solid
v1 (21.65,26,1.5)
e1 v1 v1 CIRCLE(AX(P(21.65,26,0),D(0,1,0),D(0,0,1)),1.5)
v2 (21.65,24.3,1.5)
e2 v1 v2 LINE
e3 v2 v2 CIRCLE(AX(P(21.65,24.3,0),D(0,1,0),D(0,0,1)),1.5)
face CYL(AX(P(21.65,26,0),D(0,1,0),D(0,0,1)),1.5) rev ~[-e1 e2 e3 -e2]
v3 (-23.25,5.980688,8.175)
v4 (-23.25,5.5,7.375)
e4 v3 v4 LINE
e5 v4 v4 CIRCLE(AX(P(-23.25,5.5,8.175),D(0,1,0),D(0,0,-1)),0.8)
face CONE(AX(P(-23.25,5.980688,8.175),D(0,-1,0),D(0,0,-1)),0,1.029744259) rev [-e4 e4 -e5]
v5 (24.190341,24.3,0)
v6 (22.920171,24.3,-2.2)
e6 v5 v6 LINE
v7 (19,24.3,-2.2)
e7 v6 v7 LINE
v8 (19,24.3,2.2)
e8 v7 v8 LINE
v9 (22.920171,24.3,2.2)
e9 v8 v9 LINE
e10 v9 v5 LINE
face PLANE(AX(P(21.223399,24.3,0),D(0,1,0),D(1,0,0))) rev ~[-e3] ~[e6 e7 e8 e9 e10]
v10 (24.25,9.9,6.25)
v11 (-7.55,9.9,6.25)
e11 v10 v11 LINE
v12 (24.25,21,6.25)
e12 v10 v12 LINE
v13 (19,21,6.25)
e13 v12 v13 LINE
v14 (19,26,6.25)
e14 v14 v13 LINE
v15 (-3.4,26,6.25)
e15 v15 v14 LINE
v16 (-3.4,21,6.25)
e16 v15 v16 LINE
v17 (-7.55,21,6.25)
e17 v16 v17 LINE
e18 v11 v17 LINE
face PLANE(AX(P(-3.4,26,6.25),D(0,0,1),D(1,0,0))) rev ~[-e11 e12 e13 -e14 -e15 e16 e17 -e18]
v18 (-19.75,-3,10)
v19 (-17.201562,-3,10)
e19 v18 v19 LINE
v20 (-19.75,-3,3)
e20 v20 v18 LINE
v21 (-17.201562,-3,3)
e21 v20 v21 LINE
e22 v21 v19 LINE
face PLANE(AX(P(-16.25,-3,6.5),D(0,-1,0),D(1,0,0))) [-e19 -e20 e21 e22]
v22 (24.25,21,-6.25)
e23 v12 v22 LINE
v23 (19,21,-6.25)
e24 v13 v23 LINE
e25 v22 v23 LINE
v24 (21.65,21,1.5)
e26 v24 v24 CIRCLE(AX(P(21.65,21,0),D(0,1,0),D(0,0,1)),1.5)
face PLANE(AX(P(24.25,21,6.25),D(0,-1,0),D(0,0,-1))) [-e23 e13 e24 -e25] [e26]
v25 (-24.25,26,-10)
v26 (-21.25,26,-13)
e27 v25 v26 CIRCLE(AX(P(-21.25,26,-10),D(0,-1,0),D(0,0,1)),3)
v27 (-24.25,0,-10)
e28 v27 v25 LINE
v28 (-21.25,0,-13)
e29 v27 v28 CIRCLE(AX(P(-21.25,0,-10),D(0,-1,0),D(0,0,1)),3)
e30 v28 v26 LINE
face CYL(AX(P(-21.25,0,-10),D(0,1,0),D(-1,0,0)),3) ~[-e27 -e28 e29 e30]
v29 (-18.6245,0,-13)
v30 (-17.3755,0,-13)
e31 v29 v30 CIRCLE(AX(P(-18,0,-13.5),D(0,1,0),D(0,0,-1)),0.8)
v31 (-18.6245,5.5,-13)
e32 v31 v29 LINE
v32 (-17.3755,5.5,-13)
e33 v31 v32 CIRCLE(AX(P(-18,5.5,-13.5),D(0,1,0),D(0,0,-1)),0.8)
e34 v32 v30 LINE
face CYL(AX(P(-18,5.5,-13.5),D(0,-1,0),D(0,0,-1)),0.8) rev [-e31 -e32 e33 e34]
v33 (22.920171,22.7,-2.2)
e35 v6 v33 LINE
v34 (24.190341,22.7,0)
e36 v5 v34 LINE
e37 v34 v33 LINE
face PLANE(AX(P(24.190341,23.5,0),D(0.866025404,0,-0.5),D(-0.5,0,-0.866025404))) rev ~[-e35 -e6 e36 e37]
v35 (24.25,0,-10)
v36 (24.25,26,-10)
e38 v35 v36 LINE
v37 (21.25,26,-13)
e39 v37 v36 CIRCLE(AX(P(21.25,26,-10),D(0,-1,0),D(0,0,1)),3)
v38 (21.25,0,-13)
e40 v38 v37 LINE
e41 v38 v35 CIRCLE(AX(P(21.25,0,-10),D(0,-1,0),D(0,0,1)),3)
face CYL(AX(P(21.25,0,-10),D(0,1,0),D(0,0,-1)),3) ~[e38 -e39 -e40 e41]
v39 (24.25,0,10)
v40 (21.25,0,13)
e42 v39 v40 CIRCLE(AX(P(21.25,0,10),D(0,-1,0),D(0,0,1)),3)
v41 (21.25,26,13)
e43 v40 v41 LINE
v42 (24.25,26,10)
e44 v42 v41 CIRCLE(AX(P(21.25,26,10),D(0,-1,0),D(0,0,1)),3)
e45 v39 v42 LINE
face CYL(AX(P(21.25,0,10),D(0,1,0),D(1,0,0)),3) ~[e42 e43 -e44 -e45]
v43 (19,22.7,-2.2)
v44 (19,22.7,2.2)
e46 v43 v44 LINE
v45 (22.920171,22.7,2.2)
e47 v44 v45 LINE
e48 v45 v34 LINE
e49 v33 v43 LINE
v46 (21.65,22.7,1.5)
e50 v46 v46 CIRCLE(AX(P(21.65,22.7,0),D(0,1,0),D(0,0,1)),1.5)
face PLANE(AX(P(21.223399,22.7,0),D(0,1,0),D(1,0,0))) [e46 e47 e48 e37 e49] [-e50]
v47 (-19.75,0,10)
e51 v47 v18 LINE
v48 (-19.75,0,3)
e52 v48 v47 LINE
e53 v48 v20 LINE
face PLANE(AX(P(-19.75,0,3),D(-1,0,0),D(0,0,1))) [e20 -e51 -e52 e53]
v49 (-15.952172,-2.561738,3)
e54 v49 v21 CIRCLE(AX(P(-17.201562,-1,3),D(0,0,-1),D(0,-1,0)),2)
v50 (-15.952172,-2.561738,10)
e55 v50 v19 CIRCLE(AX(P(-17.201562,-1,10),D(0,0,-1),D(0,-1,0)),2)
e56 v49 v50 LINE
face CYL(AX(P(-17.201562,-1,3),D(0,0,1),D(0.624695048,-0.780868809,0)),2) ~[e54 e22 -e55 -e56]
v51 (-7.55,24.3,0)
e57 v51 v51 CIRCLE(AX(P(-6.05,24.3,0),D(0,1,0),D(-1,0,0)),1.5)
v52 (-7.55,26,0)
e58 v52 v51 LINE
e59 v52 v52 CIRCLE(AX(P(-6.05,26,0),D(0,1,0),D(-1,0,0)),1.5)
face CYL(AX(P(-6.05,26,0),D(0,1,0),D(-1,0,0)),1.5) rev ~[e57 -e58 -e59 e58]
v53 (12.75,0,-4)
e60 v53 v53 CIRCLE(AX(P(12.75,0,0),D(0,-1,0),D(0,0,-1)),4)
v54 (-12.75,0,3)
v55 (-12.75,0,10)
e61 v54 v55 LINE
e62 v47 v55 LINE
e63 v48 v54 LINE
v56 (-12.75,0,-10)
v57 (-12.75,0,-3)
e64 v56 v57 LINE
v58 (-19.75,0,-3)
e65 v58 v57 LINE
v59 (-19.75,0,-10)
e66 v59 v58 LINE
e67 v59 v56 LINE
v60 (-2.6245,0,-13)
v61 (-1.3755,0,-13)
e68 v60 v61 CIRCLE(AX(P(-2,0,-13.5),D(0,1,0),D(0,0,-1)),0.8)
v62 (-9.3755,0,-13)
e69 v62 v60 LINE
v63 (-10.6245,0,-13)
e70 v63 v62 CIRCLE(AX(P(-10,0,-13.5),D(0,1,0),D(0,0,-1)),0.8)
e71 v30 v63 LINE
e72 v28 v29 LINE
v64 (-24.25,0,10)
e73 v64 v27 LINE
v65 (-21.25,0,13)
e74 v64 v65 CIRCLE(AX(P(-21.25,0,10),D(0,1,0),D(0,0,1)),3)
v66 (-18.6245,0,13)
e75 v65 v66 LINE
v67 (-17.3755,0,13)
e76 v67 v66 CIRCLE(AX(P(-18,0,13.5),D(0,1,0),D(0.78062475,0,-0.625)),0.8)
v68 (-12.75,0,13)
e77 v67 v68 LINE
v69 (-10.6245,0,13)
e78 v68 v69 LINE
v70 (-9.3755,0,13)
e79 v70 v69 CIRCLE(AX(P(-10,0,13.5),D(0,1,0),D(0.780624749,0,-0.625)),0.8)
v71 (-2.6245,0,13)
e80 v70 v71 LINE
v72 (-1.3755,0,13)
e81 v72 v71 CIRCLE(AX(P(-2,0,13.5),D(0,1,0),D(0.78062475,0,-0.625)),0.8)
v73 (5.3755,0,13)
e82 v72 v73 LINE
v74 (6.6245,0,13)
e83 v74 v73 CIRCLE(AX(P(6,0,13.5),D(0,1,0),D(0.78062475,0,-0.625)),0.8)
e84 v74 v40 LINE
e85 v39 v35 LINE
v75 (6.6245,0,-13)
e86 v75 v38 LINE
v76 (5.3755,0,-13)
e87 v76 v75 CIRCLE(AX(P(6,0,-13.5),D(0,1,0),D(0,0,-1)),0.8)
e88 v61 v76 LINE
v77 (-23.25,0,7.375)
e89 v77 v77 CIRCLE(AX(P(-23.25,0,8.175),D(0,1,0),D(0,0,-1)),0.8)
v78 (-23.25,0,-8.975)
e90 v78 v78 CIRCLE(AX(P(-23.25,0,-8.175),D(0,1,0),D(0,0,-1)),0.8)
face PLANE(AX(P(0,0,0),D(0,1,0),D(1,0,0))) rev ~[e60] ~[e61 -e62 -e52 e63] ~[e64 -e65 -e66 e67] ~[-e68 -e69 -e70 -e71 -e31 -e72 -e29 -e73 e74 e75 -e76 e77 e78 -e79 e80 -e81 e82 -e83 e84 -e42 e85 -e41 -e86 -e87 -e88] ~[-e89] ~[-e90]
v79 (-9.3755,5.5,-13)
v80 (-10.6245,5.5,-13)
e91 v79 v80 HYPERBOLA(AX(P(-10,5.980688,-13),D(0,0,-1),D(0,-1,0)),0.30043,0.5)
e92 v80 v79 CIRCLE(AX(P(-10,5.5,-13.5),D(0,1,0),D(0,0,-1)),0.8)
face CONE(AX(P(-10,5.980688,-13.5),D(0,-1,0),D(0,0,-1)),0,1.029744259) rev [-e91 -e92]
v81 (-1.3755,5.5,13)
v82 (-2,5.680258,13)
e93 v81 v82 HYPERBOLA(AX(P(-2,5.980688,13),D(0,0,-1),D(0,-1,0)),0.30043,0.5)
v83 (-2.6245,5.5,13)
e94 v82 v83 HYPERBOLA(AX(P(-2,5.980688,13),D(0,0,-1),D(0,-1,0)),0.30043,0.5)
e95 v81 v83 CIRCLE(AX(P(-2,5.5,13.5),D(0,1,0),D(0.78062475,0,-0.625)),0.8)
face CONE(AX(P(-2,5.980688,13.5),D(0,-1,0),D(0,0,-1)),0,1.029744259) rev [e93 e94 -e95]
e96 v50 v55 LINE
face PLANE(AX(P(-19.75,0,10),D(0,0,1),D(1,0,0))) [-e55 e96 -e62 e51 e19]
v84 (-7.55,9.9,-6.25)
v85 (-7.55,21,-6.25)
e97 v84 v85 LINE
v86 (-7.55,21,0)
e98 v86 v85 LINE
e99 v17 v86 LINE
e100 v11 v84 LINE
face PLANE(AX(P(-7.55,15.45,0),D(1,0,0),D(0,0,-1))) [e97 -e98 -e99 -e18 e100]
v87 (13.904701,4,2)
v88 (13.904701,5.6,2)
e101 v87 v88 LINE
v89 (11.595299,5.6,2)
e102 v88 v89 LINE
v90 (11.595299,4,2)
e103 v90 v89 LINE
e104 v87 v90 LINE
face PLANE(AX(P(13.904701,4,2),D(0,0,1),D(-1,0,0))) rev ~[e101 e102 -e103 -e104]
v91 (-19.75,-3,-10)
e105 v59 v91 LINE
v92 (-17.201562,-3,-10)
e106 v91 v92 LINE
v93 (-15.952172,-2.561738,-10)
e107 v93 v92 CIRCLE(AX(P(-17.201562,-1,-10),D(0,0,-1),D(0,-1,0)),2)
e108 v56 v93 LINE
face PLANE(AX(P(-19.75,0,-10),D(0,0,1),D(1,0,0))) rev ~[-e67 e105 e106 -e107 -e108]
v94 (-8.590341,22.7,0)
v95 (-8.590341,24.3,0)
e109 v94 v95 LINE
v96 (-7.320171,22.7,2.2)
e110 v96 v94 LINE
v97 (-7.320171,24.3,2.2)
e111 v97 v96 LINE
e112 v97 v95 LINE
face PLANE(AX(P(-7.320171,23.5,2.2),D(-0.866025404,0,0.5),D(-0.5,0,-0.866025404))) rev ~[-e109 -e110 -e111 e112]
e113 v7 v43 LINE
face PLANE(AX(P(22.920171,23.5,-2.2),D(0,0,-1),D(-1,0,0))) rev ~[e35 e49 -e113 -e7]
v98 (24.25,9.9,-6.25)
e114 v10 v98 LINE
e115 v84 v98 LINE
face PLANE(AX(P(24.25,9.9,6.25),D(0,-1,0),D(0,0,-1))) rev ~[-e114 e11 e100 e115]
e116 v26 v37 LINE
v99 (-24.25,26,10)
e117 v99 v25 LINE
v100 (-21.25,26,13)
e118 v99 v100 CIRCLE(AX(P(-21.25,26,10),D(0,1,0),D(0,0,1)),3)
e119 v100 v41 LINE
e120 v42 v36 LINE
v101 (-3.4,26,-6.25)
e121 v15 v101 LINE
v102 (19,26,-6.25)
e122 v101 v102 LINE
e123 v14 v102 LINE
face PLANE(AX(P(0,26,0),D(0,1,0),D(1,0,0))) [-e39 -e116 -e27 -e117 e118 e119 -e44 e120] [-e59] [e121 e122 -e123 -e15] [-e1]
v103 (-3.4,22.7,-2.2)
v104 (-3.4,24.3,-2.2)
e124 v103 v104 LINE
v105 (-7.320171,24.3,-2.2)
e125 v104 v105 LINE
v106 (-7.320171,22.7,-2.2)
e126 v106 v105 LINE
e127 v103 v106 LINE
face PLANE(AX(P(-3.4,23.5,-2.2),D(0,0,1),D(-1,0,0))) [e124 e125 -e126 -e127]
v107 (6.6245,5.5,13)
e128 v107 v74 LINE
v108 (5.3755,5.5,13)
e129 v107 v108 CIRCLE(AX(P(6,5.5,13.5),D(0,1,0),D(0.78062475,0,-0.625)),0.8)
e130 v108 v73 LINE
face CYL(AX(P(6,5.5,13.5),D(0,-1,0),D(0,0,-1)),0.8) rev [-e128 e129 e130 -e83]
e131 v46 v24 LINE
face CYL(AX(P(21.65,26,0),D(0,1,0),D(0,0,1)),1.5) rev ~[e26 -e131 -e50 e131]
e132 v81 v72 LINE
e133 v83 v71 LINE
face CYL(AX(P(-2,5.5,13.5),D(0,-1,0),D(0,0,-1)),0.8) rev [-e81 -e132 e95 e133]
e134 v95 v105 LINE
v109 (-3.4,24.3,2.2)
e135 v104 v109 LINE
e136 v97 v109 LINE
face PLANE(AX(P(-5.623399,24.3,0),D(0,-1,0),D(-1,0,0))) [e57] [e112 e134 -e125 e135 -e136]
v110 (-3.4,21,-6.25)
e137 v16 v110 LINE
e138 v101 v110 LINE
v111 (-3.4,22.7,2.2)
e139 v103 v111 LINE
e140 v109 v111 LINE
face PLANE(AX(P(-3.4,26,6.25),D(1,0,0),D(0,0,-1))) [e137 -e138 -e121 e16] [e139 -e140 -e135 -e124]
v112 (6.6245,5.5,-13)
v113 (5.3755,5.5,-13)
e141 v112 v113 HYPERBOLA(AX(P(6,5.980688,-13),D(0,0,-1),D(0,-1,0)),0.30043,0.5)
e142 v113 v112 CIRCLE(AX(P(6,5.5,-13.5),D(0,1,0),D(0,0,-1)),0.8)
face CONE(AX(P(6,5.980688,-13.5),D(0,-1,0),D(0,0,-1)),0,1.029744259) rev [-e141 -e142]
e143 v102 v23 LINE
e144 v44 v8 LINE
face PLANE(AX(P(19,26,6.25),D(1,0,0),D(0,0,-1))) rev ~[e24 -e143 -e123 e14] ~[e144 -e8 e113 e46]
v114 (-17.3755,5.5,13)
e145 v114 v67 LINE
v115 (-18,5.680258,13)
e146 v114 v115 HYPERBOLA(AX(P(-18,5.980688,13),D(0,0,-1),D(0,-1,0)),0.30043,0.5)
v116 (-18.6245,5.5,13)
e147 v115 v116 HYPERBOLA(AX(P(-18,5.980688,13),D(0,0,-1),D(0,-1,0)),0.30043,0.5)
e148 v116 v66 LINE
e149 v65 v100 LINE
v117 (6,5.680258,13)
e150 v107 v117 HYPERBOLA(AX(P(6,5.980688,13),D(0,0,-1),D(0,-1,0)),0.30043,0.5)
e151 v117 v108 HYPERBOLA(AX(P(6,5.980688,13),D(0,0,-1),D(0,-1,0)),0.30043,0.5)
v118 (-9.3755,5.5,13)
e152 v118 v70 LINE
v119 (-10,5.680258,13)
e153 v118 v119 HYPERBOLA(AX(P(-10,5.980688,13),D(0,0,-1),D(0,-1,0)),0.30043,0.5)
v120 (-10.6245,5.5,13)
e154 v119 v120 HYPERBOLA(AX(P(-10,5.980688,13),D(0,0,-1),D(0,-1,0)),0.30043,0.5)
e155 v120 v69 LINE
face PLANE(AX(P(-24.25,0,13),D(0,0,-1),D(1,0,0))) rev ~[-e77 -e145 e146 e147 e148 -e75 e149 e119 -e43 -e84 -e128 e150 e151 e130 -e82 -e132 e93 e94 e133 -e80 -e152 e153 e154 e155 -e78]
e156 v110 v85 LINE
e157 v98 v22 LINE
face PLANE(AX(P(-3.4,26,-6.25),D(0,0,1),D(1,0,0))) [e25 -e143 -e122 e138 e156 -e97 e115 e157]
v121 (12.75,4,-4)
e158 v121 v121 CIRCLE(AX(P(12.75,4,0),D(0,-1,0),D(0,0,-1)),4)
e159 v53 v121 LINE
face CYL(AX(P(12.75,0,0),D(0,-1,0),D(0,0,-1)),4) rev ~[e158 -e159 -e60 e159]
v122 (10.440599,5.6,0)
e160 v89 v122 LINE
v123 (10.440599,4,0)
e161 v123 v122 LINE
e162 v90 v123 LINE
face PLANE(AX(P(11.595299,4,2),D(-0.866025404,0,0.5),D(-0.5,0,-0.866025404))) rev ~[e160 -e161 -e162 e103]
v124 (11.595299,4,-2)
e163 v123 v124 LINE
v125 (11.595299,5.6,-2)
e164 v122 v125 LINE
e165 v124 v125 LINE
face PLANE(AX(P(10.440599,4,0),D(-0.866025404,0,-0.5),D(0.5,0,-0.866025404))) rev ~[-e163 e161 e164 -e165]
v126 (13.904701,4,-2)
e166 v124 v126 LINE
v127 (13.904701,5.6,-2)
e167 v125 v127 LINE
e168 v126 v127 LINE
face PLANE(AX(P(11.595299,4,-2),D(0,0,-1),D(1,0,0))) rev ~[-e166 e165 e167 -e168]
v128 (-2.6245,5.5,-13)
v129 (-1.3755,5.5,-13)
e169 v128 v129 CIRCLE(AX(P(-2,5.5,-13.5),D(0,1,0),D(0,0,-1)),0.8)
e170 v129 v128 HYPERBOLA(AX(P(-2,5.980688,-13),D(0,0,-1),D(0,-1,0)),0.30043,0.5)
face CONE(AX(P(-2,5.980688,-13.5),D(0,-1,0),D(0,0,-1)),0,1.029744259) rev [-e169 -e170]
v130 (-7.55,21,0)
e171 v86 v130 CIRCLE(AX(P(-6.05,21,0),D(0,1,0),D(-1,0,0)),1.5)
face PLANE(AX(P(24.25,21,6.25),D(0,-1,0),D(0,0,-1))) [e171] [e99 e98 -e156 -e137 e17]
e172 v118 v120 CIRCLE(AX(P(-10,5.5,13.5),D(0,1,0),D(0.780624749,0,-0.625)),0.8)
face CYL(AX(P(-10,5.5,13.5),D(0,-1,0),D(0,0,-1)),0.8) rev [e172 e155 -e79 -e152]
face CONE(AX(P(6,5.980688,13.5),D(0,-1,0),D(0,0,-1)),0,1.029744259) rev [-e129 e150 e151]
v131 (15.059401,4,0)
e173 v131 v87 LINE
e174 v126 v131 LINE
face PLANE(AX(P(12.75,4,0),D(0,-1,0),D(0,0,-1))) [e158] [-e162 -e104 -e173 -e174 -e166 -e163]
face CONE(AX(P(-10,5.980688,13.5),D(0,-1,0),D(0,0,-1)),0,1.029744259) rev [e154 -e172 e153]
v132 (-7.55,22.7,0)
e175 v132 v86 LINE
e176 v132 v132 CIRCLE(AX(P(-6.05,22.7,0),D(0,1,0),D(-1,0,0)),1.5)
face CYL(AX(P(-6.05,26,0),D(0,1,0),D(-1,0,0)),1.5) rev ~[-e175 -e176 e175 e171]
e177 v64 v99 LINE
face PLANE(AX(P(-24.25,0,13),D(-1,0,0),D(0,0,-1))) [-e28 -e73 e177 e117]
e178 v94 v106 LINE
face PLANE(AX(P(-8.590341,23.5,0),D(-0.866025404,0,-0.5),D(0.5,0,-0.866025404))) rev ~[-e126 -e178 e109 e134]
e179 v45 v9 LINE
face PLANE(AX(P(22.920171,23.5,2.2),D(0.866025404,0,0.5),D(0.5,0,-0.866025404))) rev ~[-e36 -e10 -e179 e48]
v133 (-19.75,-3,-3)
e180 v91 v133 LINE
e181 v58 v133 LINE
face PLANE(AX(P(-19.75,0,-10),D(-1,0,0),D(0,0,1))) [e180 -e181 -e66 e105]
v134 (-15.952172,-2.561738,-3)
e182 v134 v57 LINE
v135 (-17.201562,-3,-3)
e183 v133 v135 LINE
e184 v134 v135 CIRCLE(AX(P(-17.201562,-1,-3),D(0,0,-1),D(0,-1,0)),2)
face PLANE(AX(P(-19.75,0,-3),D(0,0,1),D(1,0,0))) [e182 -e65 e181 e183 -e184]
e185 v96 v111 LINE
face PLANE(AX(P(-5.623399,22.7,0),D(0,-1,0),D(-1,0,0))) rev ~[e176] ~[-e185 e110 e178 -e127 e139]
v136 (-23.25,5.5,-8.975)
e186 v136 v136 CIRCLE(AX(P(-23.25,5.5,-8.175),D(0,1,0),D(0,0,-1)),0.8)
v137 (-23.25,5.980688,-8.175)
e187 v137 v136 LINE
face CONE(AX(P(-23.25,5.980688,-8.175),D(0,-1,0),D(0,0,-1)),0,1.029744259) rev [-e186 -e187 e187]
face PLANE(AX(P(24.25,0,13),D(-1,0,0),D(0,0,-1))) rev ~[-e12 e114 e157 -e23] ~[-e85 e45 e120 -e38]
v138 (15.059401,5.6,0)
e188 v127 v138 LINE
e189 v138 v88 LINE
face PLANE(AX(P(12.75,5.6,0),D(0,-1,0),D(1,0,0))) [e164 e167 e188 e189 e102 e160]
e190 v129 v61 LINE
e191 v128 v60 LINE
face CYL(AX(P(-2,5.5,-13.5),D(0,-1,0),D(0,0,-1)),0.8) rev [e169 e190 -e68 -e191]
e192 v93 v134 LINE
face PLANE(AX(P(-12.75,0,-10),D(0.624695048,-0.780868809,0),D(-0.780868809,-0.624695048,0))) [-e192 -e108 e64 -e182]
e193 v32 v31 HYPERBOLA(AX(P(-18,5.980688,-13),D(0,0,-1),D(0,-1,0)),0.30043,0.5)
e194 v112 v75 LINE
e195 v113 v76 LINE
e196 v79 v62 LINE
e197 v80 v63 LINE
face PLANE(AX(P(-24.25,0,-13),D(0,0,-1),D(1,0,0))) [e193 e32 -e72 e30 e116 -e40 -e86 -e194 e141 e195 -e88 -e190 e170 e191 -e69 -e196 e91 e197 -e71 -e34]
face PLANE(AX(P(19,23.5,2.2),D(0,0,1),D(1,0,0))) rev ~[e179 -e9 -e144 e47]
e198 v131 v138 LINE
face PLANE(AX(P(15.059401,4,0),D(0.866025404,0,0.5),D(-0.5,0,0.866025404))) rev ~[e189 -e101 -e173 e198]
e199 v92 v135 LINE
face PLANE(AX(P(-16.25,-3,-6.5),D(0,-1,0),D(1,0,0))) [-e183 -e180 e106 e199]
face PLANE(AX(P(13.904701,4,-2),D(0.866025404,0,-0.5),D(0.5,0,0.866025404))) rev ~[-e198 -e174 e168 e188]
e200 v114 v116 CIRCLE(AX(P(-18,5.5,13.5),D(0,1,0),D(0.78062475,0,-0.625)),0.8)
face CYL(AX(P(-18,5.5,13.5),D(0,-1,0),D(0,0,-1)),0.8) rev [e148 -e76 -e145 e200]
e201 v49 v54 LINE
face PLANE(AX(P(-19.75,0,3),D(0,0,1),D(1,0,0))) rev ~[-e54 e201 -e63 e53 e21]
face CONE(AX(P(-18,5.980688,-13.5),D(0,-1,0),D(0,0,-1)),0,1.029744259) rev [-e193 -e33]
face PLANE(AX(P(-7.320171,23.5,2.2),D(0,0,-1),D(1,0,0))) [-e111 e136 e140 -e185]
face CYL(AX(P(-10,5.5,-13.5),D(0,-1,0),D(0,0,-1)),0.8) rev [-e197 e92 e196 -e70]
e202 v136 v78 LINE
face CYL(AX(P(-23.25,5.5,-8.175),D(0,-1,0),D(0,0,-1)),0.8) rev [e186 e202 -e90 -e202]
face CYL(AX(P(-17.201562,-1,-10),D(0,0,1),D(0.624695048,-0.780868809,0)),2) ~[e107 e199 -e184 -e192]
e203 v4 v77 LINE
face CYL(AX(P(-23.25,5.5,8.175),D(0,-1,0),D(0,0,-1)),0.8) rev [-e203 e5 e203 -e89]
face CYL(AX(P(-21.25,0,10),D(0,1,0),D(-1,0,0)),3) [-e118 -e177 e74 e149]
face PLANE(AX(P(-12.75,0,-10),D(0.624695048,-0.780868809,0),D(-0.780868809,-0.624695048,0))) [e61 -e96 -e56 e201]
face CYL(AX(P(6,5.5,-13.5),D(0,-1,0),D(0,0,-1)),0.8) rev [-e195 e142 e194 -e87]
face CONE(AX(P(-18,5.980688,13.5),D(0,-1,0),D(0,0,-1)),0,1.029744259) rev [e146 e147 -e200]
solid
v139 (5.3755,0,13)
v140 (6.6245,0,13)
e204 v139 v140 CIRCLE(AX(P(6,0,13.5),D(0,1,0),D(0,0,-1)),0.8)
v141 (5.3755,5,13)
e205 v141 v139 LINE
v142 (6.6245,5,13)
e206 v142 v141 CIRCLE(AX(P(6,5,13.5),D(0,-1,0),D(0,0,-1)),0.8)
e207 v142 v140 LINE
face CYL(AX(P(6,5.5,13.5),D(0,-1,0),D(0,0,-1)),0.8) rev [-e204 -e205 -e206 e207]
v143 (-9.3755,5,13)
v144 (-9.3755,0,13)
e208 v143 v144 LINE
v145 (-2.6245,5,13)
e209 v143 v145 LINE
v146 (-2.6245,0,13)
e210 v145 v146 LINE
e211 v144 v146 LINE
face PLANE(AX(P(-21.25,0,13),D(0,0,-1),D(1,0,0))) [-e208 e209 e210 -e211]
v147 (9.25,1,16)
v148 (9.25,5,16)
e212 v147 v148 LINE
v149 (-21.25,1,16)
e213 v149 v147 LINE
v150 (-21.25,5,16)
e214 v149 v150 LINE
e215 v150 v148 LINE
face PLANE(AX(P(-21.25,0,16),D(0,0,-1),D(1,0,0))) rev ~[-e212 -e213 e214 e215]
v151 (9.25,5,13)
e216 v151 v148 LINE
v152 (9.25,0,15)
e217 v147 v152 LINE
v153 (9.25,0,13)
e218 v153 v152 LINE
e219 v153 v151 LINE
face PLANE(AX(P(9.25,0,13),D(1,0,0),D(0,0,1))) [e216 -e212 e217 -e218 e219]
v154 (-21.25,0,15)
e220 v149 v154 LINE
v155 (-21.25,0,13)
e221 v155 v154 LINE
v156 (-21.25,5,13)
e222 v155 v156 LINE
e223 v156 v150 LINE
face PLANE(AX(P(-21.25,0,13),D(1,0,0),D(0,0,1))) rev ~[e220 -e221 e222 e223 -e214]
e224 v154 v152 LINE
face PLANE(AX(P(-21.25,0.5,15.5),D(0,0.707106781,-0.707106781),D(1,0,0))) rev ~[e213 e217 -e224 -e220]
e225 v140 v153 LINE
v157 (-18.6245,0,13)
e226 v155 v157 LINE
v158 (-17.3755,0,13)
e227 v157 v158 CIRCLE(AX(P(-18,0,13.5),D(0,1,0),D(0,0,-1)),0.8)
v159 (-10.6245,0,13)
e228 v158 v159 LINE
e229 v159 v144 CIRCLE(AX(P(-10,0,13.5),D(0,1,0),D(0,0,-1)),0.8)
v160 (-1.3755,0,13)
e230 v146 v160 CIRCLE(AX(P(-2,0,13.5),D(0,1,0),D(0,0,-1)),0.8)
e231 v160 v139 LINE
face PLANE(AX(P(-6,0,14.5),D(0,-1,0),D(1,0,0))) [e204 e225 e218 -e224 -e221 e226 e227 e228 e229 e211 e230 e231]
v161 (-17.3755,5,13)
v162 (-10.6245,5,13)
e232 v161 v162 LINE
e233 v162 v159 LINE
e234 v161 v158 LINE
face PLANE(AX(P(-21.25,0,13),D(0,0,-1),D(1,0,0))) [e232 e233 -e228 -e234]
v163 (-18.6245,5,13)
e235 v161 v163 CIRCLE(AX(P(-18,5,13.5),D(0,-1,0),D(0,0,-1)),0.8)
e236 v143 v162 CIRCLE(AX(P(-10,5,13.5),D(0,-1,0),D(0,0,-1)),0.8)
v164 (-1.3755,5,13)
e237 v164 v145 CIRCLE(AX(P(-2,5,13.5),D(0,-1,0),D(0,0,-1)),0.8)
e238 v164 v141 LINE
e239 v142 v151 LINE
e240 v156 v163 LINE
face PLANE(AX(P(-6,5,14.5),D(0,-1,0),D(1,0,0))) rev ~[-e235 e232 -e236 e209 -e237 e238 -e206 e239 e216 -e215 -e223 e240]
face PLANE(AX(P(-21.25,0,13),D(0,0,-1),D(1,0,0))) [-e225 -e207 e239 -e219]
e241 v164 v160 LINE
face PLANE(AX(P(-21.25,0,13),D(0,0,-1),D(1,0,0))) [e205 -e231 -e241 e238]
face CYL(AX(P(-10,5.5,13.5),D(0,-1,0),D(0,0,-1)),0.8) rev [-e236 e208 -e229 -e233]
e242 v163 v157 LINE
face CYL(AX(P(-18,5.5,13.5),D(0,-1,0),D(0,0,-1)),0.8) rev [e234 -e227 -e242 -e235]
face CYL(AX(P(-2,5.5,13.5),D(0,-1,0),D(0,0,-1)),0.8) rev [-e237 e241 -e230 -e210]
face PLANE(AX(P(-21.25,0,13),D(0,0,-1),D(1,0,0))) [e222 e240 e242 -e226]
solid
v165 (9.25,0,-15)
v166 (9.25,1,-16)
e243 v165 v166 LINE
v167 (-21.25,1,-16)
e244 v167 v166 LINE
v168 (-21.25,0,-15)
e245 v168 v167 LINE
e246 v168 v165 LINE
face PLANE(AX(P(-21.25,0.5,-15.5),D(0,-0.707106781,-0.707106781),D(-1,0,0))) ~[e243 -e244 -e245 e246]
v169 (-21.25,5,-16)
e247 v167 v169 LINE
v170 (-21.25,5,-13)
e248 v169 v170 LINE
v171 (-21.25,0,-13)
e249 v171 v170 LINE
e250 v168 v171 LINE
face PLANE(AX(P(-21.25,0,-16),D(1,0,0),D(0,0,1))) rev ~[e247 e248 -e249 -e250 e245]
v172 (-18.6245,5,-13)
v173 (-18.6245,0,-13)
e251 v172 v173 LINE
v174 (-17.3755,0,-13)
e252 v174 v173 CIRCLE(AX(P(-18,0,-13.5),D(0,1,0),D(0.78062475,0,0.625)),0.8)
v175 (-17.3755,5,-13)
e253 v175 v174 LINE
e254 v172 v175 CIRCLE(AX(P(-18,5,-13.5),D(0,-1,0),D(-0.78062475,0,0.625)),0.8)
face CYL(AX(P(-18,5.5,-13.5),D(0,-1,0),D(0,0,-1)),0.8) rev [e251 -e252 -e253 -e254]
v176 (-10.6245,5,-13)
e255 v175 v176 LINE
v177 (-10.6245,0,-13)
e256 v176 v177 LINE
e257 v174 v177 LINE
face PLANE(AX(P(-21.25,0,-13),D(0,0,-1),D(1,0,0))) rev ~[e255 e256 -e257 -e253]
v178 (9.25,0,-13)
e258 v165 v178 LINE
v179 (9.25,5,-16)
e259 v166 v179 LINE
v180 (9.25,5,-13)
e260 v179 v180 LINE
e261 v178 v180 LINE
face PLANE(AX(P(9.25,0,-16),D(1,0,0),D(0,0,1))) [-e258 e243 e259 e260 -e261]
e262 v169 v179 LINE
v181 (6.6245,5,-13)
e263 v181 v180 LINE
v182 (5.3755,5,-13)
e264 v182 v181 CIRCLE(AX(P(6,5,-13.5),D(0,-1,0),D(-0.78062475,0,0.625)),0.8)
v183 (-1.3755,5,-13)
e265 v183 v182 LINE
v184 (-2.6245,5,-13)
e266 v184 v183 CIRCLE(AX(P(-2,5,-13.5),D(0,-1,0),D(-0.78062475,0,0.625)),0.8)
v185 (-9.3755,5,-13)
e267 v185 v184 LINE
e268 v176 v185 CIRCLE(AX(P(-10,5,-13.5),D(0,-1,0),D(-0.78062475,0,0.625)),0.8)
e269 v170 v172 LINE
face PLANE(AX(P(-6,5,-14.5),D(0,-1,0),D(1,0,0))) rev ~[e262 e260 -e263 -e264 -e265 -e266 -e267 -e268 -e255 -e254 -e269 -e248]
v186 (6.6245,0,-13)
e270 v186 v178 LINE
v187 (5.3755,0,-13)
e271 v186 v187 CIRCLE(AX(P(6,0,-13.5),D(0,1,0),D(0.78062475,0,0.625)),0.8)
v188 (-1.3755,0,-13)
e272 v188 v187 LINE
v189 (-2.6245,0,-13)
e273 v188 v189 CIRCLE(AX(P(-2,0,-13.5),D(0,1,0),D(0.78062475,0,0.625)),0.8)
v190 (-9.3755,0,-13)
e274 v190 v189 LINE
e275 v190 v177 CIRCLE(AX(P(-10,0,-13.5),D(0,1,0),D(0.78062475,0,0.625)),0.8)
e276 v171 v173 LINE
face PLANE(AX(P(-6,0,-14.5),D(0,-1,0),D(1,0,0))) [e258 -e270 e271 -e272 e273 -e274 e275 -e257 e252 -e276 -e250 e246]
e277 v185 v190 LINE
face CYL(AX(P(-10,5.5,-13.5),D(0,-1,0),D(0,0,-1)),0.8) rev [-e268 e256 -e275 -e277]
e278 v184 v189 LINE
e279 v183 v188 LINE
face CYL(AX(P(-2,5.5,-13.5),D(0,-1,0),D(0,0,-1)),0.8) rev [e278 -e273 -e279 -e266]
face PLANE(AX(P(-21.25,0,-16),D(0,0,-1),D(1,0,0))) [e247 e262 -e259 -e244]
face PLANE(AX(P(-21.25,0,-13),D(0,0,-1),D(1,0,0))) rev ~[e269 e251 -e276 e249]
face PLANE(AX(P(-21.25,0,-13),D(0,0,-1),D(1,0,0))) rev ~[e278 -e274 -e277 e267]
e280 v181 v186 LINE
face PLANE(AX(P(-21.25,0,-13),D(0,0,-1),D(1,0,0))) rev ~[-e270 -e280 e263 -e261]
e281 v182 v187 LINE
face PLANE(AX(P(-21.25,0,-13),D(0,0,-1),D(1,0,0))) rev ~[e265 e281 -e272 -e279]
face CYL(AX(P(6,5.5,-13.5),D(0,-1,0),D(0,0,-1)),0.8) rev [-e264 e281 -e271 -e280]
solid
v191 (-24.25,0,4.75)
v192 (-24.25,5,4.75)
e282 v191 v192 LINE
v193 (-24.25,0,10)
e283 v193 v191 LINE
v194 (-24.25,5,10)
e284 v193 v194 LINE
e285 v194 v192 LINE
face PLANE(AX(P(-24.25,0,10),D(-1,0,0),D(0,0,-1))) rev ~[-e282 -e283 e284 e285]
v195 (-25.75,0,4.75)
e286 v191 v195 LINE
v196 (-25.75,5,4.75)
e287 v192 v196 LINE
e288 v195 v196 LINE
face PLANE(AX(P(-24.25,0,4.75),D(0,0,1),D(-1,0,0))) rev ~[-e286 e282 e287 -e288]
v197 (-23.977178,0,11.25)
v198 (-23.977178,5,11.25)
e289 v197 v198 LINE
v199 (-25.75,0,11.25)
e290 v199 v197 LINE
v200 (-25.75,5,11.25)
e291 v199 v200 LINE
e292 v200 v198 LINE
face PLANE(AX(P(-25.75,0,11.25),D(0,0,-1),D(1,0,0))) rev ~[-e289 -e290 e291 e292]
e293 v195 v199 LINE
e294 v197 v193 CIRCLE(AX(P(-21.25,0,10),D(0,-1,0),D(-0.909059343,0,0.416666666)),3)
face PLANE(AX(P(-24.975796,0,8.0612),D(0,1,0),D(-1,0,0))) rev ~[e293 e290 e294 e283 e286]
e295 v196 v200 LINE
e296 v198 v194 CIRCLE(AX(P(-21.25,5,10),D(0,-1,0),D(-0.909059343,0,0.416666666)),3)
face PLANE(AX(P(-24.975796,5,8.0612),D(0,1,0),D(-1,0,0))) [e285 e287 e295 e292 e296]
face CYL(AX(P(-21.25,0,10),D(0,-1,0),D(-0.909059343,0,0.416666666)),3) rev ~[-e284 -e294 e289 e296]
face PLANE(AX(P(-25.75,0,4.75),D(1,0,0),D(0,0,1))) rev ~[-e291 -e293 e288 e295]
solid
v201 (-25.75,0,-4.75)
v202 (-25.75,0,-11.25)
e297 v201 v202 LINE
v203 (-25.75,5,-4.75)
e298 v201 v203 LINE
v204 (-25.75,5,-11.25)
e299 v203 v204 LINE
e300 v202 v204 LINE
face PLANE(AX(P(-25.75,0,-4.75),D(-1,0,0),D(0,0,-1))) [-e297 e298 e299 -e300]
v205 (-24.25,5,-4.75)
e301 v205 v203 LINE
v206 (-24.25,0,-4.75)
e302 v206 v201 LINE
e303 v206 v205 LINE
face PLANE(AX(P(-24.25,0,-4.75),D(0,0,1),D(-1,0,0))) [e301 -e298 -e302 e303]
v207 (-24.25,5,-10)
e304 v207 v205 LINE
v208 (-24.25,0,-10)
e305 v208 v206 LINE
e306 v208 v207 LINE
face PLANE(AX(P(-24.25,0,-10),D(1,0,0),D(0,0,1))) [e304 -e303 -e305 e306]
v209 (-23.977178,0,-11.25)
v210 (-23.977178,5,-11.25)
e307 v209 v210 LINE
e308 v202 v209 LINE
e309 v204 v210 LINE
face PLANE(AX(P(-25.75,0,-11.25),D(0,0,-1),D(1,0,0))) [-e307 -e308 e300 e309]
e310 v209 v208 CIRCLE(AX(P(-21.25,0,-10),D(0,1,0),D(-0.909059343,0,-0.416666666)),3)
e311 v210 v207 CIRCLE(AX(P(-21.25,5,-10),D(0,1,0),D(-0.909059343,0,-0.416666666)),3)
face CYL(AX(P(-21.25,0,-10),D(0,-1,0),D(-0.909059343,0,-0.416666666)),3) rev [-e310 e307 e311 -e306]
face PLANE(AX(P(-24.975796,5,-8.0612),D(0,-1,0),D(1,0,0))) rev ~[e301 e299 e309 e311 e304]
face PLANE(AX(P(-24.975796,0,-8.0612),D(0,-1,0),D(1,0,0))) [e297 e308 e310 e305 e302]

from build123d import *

# Parameters (mm, degrees)
SKETCH_1_W           = 48.5
SKETCH_1_H           = 26
EXTRUDE_1_DEPTH      = 26
SKETCH_16_W          = 22.4
SKETCH_16_H          = 12.5
CUT_EXTRUDE_13_DEPTH = 16.1
SKETCH_17_W          = 12.5
SKETCH_17_H          = 11.1
CUT_EXTRUDE_14_DEPTH = 31.8
CUT_EXTRUDE_15_REACH = 39.856
SKETCH_18_R          = 1.5
SKETCH_20_W          = 7
SKETCH_20_H          = 7
EXTRUDE_2_DEPTH      = 3
CUT_EXTRUDE_16_DEPTH = 43.344568719
FILLET_4_R           = 2
CUT_EXTRUDE_19_DEPTH = 0.8
FILLET_6_R           = 3
SKETCH_28_W          = 30.5
SKETCH_28_H          = 3
EXTRUDE_4_DEPTH      = 5
EXTRUDE_4_2_DEPTH    = 5
EXTRUDE_4_3_DEPTH    = 5
EXTRUDE_4_4_DEPTH    = 5
M2X0_4_1_AT_2_COUNT  = 2
M2X0_4_1_AT_2_PITCH  = 8
M2X0_4_1_AT_3_COUNT  = 2
M2X0_4_1_AT_3_PITCH  = 16
M2X0_4_1_AT_4_COUNT  = 2
M2X0_4_1_AT_4_PITCH  = 24
M2X0_4_1_AT_5_COUNT  = 2
M2X0_4_1_AT_5_PITCH  = 7.477842269
M2X0_4_1_AT_6_COUNT  = 2
M2X0_4_1_AT_6_PITCH  = 22.301751613
M2X0_4_1_AT_7_COUNT  = 2
M2X0_4_1_AT_7_PITCH  = 27
M2X0_4_1_AT_8_COUNT  = 2
M2X0_4_1_AT_8_PITCH  = 28.160255681
M2X0_4_1_AT_9_COUNT  = 2
M2X0_4_1_AT_9_PITCH  = 31.384709653
M2X0_4_1_AT_10_COUNT = 2
M2X0_4_1_AT_10_PITCH = 36.124783736
CHAMFER_1_SIZE       = 1
CHAMFER_2_SIZE       = 1
SKETCH_23_R          = 4
CUT_EXTRUDE_33_DEPTH = 4
CUT_EXTRUDE_34_DEPTH = 1.6


with BuildPart() as part:
    # 草图1 → 凸台-拉伸1 (new body)
    with BuildSketch(Plane(origin=(0, 0, 0), x_dir=(1, 0, 0), z_dir=(0, 1, 0))):
        Rectangle(SKETCH_1_W, SKETCH_1_H)
    extrude(amount=EXTRUDE_1_DEPTH)

    # 草图16 → 切除-拉伸13 (cut)
    with BuildSketch(Plane(origin=(0, 26, 0), x_dir=(1, 0, 0), z_dir=(0, 1, 0))):
        with Locations((7.8, 0)):
            Rectangle(SKETCH_16_W, SKETCH_16_H)
    extrude(amount=-CUT_EXTRUDE_13_DEPTH, mode=Mode.SUBTRACT)

    # 草图17 → 切除-拉伸14 (cut)
    with BuildSketch(Plane(origin=(24.25, 0, 0), x_dir=(0, 0, -1), z_dir=(1, 0, 0))):
        with Locations((0, 15.45)):
            Rectangle(SKETCH_17_W, SKETCH_17_H)
    extrude(amount=-CUT_EXTRUDE_14_DEPTH, mode=Mode.SUBTRACT)

    # 草图18 → 切除-拉伸15 (cut, up to next)
    with BuildSketch(Plane(origin=(0, 26, 0), x_dir=(1, 0, 0), z_dir=(0, 1, 0)), mode=Mode.PRIVATE) as cut_extrude_15_sk1:
        with Locations(Location((21.65, 0, 0), (0, 0, 270))):
            Circle(SKETCH_18_R)
    cut_extrude_15_tool1 = extrude(cut_extrude_15_sk1.sketch, amount=-CUT_EXTRUDE_15_REACH, mode=Mode.PRIVATE) & part.part
    # 草图18 → 切除-拉伸15 (cut, up to next)
    with BuildSketch(Plane(origin=(0, 26, 0), x_dir=(1, 0, 0), z_dir=(0, 1, 0)), mode=Mode.PRIVATE) as cut_extrude_15_sk2:
        with Locations(Location((-6.05, 0, 0), (0, 0, 180))):
            Circle(SKETCH_18_R)
    cut_extrude_15_tool2 = extrude(cut_extrude_15_sk2.sketch, amount=-CUT_EXTRUDE_15_REACH, mode=Mode.PRIVATE) & part.part
    add(cut_extrude_15_tool1.solids().sort_by_distance((21.65, 26, 0))[0], mode=Mode.SUBTRACT)
    add(cut_extrude_15_tool2.solids().sort_by_distance((-6.05, 26, 0))[0], mode=Mode.SUBTRACT)

    # 草图20 → 凸台-拉伸2 (add)
    with BuildSketch(Plane.XZ):
        with Locations((-16.25, -6.5)):
            Rectangle(SKETCH_20_W, SKETCH_20_H)
        with Locations((-16.25, 6.5)):
            Rectangle(SKETCH_20_W, SKETCH_20_H)
    extrude(amount=EXTRUDE_2_DEPTH)

    # 草图21 → 切除-拉伸16 (cut, through all)
    with BuildSketch(Plane(origin=(0, 0, -10), x_dir=(-1, 0, 0), z_dir=(0, 0, -1))):
        Polygon((12.75, 0), (16.5, -3), (12.75, -3), align=None)
    extrude(amount=-CUT_EXTRUDE_16_DEPTH, mode=Mode.SUBTRACT)

    # 圆角4
    fillet_4_edges = [part.edges().sort_by_distance(p)[0] for p in [
        (-16.5, -3, 6.5),
        (-16.5, -3, -6.5),
    ]]
    fillet(fillet_4_edges, radius=FILLET_4_R)

    # 草图27 → 切除-拉伸19 (cut, symmetric)
    with BuildSketch(Plane(origin=(0, 23.5, 0), x_dir=(1, 0, 0), z_dir=(0, 1, 0))):
        Polygon((-3.4, 2.2), (-3.4, -2.2), (-4.895299462, -2.2), (-7.320170592, -2.2), (-8.590341184, 0), (-7.320170592, 2.2), (-4.895299462, 2.2), align=None)
        Polygon((19, 2.2), (19, -2.2), (20.495299462, -2.2), (22.920170592, -2.2), (24.190341184, 0), (22.920170592, 2.2), (20.495299462, 2.2), align=None)
    extrude(amount=CUT_EXTRUDE_19_DEPTH, both=True, mode=Mode.SUBTRACT)

    # 圆角6
    fillet_6_edges = [part.edges().sort_by_distance(p)[0] for p in [
        (24.25, 13, 13),
        (-24.25, 13, 13),
        (-24.25, 13, -13),
        (24.25, 13, -13),
    ]]
    fillet(fillet_6_edges, radius=FILLET_6_R)


with BuildPart() as body_2:
    # 草图28 → 凸台-拉伸4 (new body)
    with BuildSketch(Plane.XZ):
        with Locations((-6, 14.5)):
            Rectangle(SKETCH_28_W, SKETCH_28_H)
    extrude(amount=-EXTRUDE_4_DEPTH)


with BuildPart() as body_3:
    # 草图28 → Extrude 4 2 (new body)
    with BuildSketch(Plane.XZ):
        with BuildLine():
            Line((-24.25, 4.75), (-25.75, 4.75))
            Line((-25.75, 4.75), (-25.75, 11.25))
            Line((-25.75, 11.25), (-23.977178029, 11.25))
            ThreePointArc((-23.977178029, 11.25), (-24.181001031, 10.639713183), (-24.25, 10))
            Line((-24.25, 10), (-24.25, 4.75))
        make_face()
    extrude(amount=-EXTRUDE_4_2_DEPTH)


with BuildPart() as body_4:
    # 草图28 → Extrude 4 3 (new body)
    with BuildSketch(Plane.XZ):
        with BuildLine():
            Line((-24.25, -10), (-24.25, -4.75))
            Line((-24.25, -4.75), (-25.75, -4.75))
            Line((-25.75, -4.75), (-25.75, -11.25))
            Line((-25.75, -11.25), (-23.977178029, -11.25))
            ThreePointArc((-23.977178029, -11.25), (-24.181001031, -10.639713183), (-24.25, -10))
        make_face()
    extrude(amount=-EXTRUDE_4_3_DEPTH)


with BuildPart() as body_5:
    # 草图28 → Extrude 4 4 (new body)
    with BuildSketch(Plane.XZ):
        with Locations((-6, -14.5)):
            Rectangle(SKETCH_28_W, SKETCH_28_H)
    extrude(amount=-EXTRUDE_4_4_DEPTH)


with BuildPart() as m2x0_4_1_tool:
    # 草图32 → M2x0.4 螺纹孔1 (revolve)
    with BuildSketch(Plane(origin=(-18, 0, -13.5), x_dir=(0, 0, -1), z_dir=(1, 0, 0))):
        Polygon((0, 0), (0, 5.980688495), (0.8, 5.5), (0.8, 0), align=None)
    m2x0_4_1 = revolve(axis=Axis((-18, -6.35, -13.5), (0, 1, 0)))


with BuildPart() as part_1:
    add(part.part)

    # M2x0.4 螺纹孔1: cut by m2x0_4_1_tool
    add(m2x0_4_1_tool.part, mode=Mode.SUBTRACT)


with BuildPart() as body_5_1:
    add(body_5.part)

    # M2x0.4 螺纹孔1: cut by m2x0_4_1_tool
    add(m2x0_4_1_tool.part, mode=Mode.SUBTRACT)


with BuildPart() as m2x0_4_1_at_2_tool:
    # M2x0.4 螺纹孔1 at 2: M2x0.4 螺纹孔1 ×2
    with Locations(*[(i * M2X0_4_1_AT_2_PITCH, 0, 0) for i in range(1, M2X0_4_1_AT_2_COUNT)]):
        add(m2x0_4_1)


with BuildPart() as part_2:
    add(part_1.part)

    # M2x0.4 螺纹孔1 at 2: cut by m2x0_4_1_at_2_tool
    add(m2x0_4_1_at_2_tool.part, mode=Mode.SUBTRACT)


with BuildPart() as body_5_2:
    add(body_5_1.part)

    # M2x0.4 螺纹孔1 at 2: cut by m2x0_4_1_at_2_tool
    add(m2x0_4_1_at_2_tool.part, mode=Mode.SUBTRACT)


with BuildPart() as m2x0_4_1_at_3_tool:
    # M2x0.4 螺纹孔1 at 3: M2x0.4 螺纹孔1 ×2
    with Locations(*[(i * M2X0_4_1_AT_3_PITCH, 0, 0) for i in range(1, M2X0_4_1_AT_3_COUNT)]):
        add(m2x0_4_1)


with BuildPart() as part_3:
    add(part_2.part)

    # M2x0.4 螺纹孔1 at 3: cut by m2x0_4_1_at_3_tool
    add(m2x0_4_1_at_3_tool.part, mode=Mode.SUBTRACT)


with BuildPart() as body_5_3:
    add(body_5_2.part)

    # M2x0.4 螺纹孔1 at 3: cut by m2x0_4_1_at_3_tool
    add(m2x0_4_1_at_3_tool.part, mode=Mode.SUBTRACT)


with BuildPart() as m2x0_4_1_at_4_tool:
    # M2x0.4 螺纹孔1 at 4: M2x0.4 螺纹孔1 ×2
    with Locations(*[(i * M2X0_4_1_AT_4_PITCH, 0, 0) for i in range(1, M2X0_4_1_AT_4_COUNT)]):
        add(m2x0_4_1)


with BuildPart() as part_4:
    add(part_3.part)

    # M2x0.4 螺纹孔1 at 4: cut by m2x0_4_1_at_4_tool
    add(m2x0_4_1_at_4_tool.part, mode=Mode.SUBTRACT)

    # M2x0.4 螺纹孔1 at 5: M2x0.4 螺纹孔1 ×2
    with Locations(*[Vector(-0.7020741827848285, 0, 0.7121038139674688) * (i * M2X0_4_1_AT_5_PITCH) for i in range(1, M2X0_4_1_AT_5_COUNT)]):
        add(m2x0_4_1, mode=Mode.SUBTRACT)

    # M2x0.4 螺纹孔1 at 6: M2x0.4 螺纹孔1 ×2
    with Locations(*[Vector(-0.2354075182588642, 0, 0.971896753954453) * (i * M2X0_4_1_AT_6_PITCH) for i in range(1, M2X0_4_1_AT_6_COUNT)]):
        add(m2x0_4_1, mode=Mode.SUBTRACT)


with BuildPart() as body_5_4:
    add(body_5_3.part)

    # M2x0.4 螺纹孔1 at 4: cut by m2x0_4_1_at_4_tool
    add(m2x0_4_1_at_4_tool.part, mode=Mode.SUBTRACT)

    # 倒角2
    chamfer_2_edges = [body_5_4.edges().sort_by_distance(p)[0] for p in [
        (-6, 0, -16),
    ]]
    chamfer(chamfer_2_edges, length=CHAMFER_2_SIZE)


with BuildPart() as m2x0_4_1_at_7_tool:
    # M2x0.4 螺纹孔1 at 7: M2x0.4 螺纹孔1 ×2
    with Locations(*[(0, 0, i * M2X0_4_1_AT_7_PITCH) for i in range(1, M2X0_4_1_AT_7_COUNT)]):
        add(m2x0_4_1)


with BuildPart() as part_5:
    add(part_4.part)

    # M2x0.4 螺纹孔1 at 7: cut by m2x0_4_1_at_7_tool
    add(m2x0_4_1_at_7_tool.part, mode=Mode.SUBTRACT)


with BuildPart() as body_2_1:
    add(body_2.part)

    # M2x0.4 螺纹孔1 at 7: cut by m2x0_4_1_at_7_tool
    add(m2x0_4_1_at_7_tool.part, mode=Mode.SUBTRACT)


with BuildPart() as m2x0_4_1_at_8_tool:
    # M2x0.4 螺纹孔1 at 8: M2x0.4 螺纹孔1 ×2
    with Locations(*[Vector(0.28408832969137404, 0, 0.9587981127083872) * (i * M2X0_4_1_AT_8_PITCH) for i in range(1, M2X0_4_1_AT_8_COUNT)]):
        add(m2x0_4_1)


with BuildPart() as part_6:
    add(part_5.part)

    # M2x0.4 螺纹孔1 at 8: cut by m2x0_4_1_at_8_tool
    add(m2x0_4_1_at_8_tool.part, mode=Mode.SUBTRACT)


with BuildPart() as body_2_2:
    add(body_2_1.part)

    # M2x0.4 螺纹孔1 at 8: cut by m2x0_4_1_at_8_tool
    add(m2x0_4_1_at_8_tool.part, mode=Mode.SUBTRACT)


with BuildPart() as m2x0_4_1_at_9_tool:
    # M2x0.4 螺纹孔1 at 9: M2x0.4 螺纹孔1 ×2
    with Locations(*[Vector(0.5098023903017329, 0, 0.8602915336341743) * (i * M2X0_4_1_AT_9_PITCH) for i in range(1, M2X0_4_1_AT_9_COUNT)]):
        add(m2x0_4_1)


with BuildPart() as part_7:
    add(part_6.part)

    # M2x0.4 螺纹孔1 at 9: cut by m2x0_4_1_at_9_tool
    add(m2x0_4_1_at_9_tool.part, mode=Mode.SUBTRACT)


with BuildPart() as body_2_3:
    add(body_2_2.part)

    # M2x0.4 螺纹孔1 at 9: cut by m2x0_4_1_at_9_tool
    add(m2x0_4_1_at_9_tool.part, mode=Mode.SUBTRACT)


with BuildPart() as m2x0_4_1_at_10_tool:
    # M2x0.4 螺纹孔1 at 10: M2x0.4 螺纹孔1 ×2
    with Locations(*[Vector(0.6643638388299198, 0, 0.7474093186836598) * (i * M2X0_4_1_AT_10_PITCH) for i in range(1, M2X0_4_1_AT_10_COUNT)]):
        add(m2x0_4_1)


with BuildPart() as part_8:
    add(part_7.part)

    # M2x0.4 螺纹孔1 at 10: cut by m2x0_4_1_at_10_tool
    add(m2x0_4_1_at_10_tool.part, mode=Mode.SUBTRACT)

    # 草图23 → 切除-拉伸33 (cut)
    with BuildSketch(Plane.XZ):
        with Locations(Location((12.75, 0, 0), (0, 0, 270))):
            Circle(SKETCH_23_R)
    extrude(amount=-CUT_EXTRUDE_33_DEPTH, mode=Mode.SUBTRACT)

    # 草图47 → 切除-拉伸34 (cut)
    with BuildSketch(Plane.XZ.offset(-4)):
        Polygon((15.059401077, 0), (13.904700538, 2), (11.595299462, 2), (10.440598923, 0), (11.595299462, -2), (13.904700538, -2), align=None)
    extrude(amount=-CUT_EXTRUDE_34_DEPTH, mode=Mode.SUBTRACT)


with BuildPart() as body_2_4:
    add(body_2_3.part)

    # M2x0.4 螺纹孔1 at 10: cut by m2x0_4_1_at_10_tool
    add(m2x0_4_1_at_10_tool.part, mode=Mode.SUBTRACT)

    # 倒角1
    chamfer_1_edges = [body_2_4.edges().sort_by_distance(p)[0] for p in [
        (-6, 0, 16),
    ]]
    chamfer(chamfer_1_edges, length=CHAMFER_1_SIZE)


solid = Compound([body_3.part, body_4.part, body_5_4.part, part_8.part, body_2_4.part])
